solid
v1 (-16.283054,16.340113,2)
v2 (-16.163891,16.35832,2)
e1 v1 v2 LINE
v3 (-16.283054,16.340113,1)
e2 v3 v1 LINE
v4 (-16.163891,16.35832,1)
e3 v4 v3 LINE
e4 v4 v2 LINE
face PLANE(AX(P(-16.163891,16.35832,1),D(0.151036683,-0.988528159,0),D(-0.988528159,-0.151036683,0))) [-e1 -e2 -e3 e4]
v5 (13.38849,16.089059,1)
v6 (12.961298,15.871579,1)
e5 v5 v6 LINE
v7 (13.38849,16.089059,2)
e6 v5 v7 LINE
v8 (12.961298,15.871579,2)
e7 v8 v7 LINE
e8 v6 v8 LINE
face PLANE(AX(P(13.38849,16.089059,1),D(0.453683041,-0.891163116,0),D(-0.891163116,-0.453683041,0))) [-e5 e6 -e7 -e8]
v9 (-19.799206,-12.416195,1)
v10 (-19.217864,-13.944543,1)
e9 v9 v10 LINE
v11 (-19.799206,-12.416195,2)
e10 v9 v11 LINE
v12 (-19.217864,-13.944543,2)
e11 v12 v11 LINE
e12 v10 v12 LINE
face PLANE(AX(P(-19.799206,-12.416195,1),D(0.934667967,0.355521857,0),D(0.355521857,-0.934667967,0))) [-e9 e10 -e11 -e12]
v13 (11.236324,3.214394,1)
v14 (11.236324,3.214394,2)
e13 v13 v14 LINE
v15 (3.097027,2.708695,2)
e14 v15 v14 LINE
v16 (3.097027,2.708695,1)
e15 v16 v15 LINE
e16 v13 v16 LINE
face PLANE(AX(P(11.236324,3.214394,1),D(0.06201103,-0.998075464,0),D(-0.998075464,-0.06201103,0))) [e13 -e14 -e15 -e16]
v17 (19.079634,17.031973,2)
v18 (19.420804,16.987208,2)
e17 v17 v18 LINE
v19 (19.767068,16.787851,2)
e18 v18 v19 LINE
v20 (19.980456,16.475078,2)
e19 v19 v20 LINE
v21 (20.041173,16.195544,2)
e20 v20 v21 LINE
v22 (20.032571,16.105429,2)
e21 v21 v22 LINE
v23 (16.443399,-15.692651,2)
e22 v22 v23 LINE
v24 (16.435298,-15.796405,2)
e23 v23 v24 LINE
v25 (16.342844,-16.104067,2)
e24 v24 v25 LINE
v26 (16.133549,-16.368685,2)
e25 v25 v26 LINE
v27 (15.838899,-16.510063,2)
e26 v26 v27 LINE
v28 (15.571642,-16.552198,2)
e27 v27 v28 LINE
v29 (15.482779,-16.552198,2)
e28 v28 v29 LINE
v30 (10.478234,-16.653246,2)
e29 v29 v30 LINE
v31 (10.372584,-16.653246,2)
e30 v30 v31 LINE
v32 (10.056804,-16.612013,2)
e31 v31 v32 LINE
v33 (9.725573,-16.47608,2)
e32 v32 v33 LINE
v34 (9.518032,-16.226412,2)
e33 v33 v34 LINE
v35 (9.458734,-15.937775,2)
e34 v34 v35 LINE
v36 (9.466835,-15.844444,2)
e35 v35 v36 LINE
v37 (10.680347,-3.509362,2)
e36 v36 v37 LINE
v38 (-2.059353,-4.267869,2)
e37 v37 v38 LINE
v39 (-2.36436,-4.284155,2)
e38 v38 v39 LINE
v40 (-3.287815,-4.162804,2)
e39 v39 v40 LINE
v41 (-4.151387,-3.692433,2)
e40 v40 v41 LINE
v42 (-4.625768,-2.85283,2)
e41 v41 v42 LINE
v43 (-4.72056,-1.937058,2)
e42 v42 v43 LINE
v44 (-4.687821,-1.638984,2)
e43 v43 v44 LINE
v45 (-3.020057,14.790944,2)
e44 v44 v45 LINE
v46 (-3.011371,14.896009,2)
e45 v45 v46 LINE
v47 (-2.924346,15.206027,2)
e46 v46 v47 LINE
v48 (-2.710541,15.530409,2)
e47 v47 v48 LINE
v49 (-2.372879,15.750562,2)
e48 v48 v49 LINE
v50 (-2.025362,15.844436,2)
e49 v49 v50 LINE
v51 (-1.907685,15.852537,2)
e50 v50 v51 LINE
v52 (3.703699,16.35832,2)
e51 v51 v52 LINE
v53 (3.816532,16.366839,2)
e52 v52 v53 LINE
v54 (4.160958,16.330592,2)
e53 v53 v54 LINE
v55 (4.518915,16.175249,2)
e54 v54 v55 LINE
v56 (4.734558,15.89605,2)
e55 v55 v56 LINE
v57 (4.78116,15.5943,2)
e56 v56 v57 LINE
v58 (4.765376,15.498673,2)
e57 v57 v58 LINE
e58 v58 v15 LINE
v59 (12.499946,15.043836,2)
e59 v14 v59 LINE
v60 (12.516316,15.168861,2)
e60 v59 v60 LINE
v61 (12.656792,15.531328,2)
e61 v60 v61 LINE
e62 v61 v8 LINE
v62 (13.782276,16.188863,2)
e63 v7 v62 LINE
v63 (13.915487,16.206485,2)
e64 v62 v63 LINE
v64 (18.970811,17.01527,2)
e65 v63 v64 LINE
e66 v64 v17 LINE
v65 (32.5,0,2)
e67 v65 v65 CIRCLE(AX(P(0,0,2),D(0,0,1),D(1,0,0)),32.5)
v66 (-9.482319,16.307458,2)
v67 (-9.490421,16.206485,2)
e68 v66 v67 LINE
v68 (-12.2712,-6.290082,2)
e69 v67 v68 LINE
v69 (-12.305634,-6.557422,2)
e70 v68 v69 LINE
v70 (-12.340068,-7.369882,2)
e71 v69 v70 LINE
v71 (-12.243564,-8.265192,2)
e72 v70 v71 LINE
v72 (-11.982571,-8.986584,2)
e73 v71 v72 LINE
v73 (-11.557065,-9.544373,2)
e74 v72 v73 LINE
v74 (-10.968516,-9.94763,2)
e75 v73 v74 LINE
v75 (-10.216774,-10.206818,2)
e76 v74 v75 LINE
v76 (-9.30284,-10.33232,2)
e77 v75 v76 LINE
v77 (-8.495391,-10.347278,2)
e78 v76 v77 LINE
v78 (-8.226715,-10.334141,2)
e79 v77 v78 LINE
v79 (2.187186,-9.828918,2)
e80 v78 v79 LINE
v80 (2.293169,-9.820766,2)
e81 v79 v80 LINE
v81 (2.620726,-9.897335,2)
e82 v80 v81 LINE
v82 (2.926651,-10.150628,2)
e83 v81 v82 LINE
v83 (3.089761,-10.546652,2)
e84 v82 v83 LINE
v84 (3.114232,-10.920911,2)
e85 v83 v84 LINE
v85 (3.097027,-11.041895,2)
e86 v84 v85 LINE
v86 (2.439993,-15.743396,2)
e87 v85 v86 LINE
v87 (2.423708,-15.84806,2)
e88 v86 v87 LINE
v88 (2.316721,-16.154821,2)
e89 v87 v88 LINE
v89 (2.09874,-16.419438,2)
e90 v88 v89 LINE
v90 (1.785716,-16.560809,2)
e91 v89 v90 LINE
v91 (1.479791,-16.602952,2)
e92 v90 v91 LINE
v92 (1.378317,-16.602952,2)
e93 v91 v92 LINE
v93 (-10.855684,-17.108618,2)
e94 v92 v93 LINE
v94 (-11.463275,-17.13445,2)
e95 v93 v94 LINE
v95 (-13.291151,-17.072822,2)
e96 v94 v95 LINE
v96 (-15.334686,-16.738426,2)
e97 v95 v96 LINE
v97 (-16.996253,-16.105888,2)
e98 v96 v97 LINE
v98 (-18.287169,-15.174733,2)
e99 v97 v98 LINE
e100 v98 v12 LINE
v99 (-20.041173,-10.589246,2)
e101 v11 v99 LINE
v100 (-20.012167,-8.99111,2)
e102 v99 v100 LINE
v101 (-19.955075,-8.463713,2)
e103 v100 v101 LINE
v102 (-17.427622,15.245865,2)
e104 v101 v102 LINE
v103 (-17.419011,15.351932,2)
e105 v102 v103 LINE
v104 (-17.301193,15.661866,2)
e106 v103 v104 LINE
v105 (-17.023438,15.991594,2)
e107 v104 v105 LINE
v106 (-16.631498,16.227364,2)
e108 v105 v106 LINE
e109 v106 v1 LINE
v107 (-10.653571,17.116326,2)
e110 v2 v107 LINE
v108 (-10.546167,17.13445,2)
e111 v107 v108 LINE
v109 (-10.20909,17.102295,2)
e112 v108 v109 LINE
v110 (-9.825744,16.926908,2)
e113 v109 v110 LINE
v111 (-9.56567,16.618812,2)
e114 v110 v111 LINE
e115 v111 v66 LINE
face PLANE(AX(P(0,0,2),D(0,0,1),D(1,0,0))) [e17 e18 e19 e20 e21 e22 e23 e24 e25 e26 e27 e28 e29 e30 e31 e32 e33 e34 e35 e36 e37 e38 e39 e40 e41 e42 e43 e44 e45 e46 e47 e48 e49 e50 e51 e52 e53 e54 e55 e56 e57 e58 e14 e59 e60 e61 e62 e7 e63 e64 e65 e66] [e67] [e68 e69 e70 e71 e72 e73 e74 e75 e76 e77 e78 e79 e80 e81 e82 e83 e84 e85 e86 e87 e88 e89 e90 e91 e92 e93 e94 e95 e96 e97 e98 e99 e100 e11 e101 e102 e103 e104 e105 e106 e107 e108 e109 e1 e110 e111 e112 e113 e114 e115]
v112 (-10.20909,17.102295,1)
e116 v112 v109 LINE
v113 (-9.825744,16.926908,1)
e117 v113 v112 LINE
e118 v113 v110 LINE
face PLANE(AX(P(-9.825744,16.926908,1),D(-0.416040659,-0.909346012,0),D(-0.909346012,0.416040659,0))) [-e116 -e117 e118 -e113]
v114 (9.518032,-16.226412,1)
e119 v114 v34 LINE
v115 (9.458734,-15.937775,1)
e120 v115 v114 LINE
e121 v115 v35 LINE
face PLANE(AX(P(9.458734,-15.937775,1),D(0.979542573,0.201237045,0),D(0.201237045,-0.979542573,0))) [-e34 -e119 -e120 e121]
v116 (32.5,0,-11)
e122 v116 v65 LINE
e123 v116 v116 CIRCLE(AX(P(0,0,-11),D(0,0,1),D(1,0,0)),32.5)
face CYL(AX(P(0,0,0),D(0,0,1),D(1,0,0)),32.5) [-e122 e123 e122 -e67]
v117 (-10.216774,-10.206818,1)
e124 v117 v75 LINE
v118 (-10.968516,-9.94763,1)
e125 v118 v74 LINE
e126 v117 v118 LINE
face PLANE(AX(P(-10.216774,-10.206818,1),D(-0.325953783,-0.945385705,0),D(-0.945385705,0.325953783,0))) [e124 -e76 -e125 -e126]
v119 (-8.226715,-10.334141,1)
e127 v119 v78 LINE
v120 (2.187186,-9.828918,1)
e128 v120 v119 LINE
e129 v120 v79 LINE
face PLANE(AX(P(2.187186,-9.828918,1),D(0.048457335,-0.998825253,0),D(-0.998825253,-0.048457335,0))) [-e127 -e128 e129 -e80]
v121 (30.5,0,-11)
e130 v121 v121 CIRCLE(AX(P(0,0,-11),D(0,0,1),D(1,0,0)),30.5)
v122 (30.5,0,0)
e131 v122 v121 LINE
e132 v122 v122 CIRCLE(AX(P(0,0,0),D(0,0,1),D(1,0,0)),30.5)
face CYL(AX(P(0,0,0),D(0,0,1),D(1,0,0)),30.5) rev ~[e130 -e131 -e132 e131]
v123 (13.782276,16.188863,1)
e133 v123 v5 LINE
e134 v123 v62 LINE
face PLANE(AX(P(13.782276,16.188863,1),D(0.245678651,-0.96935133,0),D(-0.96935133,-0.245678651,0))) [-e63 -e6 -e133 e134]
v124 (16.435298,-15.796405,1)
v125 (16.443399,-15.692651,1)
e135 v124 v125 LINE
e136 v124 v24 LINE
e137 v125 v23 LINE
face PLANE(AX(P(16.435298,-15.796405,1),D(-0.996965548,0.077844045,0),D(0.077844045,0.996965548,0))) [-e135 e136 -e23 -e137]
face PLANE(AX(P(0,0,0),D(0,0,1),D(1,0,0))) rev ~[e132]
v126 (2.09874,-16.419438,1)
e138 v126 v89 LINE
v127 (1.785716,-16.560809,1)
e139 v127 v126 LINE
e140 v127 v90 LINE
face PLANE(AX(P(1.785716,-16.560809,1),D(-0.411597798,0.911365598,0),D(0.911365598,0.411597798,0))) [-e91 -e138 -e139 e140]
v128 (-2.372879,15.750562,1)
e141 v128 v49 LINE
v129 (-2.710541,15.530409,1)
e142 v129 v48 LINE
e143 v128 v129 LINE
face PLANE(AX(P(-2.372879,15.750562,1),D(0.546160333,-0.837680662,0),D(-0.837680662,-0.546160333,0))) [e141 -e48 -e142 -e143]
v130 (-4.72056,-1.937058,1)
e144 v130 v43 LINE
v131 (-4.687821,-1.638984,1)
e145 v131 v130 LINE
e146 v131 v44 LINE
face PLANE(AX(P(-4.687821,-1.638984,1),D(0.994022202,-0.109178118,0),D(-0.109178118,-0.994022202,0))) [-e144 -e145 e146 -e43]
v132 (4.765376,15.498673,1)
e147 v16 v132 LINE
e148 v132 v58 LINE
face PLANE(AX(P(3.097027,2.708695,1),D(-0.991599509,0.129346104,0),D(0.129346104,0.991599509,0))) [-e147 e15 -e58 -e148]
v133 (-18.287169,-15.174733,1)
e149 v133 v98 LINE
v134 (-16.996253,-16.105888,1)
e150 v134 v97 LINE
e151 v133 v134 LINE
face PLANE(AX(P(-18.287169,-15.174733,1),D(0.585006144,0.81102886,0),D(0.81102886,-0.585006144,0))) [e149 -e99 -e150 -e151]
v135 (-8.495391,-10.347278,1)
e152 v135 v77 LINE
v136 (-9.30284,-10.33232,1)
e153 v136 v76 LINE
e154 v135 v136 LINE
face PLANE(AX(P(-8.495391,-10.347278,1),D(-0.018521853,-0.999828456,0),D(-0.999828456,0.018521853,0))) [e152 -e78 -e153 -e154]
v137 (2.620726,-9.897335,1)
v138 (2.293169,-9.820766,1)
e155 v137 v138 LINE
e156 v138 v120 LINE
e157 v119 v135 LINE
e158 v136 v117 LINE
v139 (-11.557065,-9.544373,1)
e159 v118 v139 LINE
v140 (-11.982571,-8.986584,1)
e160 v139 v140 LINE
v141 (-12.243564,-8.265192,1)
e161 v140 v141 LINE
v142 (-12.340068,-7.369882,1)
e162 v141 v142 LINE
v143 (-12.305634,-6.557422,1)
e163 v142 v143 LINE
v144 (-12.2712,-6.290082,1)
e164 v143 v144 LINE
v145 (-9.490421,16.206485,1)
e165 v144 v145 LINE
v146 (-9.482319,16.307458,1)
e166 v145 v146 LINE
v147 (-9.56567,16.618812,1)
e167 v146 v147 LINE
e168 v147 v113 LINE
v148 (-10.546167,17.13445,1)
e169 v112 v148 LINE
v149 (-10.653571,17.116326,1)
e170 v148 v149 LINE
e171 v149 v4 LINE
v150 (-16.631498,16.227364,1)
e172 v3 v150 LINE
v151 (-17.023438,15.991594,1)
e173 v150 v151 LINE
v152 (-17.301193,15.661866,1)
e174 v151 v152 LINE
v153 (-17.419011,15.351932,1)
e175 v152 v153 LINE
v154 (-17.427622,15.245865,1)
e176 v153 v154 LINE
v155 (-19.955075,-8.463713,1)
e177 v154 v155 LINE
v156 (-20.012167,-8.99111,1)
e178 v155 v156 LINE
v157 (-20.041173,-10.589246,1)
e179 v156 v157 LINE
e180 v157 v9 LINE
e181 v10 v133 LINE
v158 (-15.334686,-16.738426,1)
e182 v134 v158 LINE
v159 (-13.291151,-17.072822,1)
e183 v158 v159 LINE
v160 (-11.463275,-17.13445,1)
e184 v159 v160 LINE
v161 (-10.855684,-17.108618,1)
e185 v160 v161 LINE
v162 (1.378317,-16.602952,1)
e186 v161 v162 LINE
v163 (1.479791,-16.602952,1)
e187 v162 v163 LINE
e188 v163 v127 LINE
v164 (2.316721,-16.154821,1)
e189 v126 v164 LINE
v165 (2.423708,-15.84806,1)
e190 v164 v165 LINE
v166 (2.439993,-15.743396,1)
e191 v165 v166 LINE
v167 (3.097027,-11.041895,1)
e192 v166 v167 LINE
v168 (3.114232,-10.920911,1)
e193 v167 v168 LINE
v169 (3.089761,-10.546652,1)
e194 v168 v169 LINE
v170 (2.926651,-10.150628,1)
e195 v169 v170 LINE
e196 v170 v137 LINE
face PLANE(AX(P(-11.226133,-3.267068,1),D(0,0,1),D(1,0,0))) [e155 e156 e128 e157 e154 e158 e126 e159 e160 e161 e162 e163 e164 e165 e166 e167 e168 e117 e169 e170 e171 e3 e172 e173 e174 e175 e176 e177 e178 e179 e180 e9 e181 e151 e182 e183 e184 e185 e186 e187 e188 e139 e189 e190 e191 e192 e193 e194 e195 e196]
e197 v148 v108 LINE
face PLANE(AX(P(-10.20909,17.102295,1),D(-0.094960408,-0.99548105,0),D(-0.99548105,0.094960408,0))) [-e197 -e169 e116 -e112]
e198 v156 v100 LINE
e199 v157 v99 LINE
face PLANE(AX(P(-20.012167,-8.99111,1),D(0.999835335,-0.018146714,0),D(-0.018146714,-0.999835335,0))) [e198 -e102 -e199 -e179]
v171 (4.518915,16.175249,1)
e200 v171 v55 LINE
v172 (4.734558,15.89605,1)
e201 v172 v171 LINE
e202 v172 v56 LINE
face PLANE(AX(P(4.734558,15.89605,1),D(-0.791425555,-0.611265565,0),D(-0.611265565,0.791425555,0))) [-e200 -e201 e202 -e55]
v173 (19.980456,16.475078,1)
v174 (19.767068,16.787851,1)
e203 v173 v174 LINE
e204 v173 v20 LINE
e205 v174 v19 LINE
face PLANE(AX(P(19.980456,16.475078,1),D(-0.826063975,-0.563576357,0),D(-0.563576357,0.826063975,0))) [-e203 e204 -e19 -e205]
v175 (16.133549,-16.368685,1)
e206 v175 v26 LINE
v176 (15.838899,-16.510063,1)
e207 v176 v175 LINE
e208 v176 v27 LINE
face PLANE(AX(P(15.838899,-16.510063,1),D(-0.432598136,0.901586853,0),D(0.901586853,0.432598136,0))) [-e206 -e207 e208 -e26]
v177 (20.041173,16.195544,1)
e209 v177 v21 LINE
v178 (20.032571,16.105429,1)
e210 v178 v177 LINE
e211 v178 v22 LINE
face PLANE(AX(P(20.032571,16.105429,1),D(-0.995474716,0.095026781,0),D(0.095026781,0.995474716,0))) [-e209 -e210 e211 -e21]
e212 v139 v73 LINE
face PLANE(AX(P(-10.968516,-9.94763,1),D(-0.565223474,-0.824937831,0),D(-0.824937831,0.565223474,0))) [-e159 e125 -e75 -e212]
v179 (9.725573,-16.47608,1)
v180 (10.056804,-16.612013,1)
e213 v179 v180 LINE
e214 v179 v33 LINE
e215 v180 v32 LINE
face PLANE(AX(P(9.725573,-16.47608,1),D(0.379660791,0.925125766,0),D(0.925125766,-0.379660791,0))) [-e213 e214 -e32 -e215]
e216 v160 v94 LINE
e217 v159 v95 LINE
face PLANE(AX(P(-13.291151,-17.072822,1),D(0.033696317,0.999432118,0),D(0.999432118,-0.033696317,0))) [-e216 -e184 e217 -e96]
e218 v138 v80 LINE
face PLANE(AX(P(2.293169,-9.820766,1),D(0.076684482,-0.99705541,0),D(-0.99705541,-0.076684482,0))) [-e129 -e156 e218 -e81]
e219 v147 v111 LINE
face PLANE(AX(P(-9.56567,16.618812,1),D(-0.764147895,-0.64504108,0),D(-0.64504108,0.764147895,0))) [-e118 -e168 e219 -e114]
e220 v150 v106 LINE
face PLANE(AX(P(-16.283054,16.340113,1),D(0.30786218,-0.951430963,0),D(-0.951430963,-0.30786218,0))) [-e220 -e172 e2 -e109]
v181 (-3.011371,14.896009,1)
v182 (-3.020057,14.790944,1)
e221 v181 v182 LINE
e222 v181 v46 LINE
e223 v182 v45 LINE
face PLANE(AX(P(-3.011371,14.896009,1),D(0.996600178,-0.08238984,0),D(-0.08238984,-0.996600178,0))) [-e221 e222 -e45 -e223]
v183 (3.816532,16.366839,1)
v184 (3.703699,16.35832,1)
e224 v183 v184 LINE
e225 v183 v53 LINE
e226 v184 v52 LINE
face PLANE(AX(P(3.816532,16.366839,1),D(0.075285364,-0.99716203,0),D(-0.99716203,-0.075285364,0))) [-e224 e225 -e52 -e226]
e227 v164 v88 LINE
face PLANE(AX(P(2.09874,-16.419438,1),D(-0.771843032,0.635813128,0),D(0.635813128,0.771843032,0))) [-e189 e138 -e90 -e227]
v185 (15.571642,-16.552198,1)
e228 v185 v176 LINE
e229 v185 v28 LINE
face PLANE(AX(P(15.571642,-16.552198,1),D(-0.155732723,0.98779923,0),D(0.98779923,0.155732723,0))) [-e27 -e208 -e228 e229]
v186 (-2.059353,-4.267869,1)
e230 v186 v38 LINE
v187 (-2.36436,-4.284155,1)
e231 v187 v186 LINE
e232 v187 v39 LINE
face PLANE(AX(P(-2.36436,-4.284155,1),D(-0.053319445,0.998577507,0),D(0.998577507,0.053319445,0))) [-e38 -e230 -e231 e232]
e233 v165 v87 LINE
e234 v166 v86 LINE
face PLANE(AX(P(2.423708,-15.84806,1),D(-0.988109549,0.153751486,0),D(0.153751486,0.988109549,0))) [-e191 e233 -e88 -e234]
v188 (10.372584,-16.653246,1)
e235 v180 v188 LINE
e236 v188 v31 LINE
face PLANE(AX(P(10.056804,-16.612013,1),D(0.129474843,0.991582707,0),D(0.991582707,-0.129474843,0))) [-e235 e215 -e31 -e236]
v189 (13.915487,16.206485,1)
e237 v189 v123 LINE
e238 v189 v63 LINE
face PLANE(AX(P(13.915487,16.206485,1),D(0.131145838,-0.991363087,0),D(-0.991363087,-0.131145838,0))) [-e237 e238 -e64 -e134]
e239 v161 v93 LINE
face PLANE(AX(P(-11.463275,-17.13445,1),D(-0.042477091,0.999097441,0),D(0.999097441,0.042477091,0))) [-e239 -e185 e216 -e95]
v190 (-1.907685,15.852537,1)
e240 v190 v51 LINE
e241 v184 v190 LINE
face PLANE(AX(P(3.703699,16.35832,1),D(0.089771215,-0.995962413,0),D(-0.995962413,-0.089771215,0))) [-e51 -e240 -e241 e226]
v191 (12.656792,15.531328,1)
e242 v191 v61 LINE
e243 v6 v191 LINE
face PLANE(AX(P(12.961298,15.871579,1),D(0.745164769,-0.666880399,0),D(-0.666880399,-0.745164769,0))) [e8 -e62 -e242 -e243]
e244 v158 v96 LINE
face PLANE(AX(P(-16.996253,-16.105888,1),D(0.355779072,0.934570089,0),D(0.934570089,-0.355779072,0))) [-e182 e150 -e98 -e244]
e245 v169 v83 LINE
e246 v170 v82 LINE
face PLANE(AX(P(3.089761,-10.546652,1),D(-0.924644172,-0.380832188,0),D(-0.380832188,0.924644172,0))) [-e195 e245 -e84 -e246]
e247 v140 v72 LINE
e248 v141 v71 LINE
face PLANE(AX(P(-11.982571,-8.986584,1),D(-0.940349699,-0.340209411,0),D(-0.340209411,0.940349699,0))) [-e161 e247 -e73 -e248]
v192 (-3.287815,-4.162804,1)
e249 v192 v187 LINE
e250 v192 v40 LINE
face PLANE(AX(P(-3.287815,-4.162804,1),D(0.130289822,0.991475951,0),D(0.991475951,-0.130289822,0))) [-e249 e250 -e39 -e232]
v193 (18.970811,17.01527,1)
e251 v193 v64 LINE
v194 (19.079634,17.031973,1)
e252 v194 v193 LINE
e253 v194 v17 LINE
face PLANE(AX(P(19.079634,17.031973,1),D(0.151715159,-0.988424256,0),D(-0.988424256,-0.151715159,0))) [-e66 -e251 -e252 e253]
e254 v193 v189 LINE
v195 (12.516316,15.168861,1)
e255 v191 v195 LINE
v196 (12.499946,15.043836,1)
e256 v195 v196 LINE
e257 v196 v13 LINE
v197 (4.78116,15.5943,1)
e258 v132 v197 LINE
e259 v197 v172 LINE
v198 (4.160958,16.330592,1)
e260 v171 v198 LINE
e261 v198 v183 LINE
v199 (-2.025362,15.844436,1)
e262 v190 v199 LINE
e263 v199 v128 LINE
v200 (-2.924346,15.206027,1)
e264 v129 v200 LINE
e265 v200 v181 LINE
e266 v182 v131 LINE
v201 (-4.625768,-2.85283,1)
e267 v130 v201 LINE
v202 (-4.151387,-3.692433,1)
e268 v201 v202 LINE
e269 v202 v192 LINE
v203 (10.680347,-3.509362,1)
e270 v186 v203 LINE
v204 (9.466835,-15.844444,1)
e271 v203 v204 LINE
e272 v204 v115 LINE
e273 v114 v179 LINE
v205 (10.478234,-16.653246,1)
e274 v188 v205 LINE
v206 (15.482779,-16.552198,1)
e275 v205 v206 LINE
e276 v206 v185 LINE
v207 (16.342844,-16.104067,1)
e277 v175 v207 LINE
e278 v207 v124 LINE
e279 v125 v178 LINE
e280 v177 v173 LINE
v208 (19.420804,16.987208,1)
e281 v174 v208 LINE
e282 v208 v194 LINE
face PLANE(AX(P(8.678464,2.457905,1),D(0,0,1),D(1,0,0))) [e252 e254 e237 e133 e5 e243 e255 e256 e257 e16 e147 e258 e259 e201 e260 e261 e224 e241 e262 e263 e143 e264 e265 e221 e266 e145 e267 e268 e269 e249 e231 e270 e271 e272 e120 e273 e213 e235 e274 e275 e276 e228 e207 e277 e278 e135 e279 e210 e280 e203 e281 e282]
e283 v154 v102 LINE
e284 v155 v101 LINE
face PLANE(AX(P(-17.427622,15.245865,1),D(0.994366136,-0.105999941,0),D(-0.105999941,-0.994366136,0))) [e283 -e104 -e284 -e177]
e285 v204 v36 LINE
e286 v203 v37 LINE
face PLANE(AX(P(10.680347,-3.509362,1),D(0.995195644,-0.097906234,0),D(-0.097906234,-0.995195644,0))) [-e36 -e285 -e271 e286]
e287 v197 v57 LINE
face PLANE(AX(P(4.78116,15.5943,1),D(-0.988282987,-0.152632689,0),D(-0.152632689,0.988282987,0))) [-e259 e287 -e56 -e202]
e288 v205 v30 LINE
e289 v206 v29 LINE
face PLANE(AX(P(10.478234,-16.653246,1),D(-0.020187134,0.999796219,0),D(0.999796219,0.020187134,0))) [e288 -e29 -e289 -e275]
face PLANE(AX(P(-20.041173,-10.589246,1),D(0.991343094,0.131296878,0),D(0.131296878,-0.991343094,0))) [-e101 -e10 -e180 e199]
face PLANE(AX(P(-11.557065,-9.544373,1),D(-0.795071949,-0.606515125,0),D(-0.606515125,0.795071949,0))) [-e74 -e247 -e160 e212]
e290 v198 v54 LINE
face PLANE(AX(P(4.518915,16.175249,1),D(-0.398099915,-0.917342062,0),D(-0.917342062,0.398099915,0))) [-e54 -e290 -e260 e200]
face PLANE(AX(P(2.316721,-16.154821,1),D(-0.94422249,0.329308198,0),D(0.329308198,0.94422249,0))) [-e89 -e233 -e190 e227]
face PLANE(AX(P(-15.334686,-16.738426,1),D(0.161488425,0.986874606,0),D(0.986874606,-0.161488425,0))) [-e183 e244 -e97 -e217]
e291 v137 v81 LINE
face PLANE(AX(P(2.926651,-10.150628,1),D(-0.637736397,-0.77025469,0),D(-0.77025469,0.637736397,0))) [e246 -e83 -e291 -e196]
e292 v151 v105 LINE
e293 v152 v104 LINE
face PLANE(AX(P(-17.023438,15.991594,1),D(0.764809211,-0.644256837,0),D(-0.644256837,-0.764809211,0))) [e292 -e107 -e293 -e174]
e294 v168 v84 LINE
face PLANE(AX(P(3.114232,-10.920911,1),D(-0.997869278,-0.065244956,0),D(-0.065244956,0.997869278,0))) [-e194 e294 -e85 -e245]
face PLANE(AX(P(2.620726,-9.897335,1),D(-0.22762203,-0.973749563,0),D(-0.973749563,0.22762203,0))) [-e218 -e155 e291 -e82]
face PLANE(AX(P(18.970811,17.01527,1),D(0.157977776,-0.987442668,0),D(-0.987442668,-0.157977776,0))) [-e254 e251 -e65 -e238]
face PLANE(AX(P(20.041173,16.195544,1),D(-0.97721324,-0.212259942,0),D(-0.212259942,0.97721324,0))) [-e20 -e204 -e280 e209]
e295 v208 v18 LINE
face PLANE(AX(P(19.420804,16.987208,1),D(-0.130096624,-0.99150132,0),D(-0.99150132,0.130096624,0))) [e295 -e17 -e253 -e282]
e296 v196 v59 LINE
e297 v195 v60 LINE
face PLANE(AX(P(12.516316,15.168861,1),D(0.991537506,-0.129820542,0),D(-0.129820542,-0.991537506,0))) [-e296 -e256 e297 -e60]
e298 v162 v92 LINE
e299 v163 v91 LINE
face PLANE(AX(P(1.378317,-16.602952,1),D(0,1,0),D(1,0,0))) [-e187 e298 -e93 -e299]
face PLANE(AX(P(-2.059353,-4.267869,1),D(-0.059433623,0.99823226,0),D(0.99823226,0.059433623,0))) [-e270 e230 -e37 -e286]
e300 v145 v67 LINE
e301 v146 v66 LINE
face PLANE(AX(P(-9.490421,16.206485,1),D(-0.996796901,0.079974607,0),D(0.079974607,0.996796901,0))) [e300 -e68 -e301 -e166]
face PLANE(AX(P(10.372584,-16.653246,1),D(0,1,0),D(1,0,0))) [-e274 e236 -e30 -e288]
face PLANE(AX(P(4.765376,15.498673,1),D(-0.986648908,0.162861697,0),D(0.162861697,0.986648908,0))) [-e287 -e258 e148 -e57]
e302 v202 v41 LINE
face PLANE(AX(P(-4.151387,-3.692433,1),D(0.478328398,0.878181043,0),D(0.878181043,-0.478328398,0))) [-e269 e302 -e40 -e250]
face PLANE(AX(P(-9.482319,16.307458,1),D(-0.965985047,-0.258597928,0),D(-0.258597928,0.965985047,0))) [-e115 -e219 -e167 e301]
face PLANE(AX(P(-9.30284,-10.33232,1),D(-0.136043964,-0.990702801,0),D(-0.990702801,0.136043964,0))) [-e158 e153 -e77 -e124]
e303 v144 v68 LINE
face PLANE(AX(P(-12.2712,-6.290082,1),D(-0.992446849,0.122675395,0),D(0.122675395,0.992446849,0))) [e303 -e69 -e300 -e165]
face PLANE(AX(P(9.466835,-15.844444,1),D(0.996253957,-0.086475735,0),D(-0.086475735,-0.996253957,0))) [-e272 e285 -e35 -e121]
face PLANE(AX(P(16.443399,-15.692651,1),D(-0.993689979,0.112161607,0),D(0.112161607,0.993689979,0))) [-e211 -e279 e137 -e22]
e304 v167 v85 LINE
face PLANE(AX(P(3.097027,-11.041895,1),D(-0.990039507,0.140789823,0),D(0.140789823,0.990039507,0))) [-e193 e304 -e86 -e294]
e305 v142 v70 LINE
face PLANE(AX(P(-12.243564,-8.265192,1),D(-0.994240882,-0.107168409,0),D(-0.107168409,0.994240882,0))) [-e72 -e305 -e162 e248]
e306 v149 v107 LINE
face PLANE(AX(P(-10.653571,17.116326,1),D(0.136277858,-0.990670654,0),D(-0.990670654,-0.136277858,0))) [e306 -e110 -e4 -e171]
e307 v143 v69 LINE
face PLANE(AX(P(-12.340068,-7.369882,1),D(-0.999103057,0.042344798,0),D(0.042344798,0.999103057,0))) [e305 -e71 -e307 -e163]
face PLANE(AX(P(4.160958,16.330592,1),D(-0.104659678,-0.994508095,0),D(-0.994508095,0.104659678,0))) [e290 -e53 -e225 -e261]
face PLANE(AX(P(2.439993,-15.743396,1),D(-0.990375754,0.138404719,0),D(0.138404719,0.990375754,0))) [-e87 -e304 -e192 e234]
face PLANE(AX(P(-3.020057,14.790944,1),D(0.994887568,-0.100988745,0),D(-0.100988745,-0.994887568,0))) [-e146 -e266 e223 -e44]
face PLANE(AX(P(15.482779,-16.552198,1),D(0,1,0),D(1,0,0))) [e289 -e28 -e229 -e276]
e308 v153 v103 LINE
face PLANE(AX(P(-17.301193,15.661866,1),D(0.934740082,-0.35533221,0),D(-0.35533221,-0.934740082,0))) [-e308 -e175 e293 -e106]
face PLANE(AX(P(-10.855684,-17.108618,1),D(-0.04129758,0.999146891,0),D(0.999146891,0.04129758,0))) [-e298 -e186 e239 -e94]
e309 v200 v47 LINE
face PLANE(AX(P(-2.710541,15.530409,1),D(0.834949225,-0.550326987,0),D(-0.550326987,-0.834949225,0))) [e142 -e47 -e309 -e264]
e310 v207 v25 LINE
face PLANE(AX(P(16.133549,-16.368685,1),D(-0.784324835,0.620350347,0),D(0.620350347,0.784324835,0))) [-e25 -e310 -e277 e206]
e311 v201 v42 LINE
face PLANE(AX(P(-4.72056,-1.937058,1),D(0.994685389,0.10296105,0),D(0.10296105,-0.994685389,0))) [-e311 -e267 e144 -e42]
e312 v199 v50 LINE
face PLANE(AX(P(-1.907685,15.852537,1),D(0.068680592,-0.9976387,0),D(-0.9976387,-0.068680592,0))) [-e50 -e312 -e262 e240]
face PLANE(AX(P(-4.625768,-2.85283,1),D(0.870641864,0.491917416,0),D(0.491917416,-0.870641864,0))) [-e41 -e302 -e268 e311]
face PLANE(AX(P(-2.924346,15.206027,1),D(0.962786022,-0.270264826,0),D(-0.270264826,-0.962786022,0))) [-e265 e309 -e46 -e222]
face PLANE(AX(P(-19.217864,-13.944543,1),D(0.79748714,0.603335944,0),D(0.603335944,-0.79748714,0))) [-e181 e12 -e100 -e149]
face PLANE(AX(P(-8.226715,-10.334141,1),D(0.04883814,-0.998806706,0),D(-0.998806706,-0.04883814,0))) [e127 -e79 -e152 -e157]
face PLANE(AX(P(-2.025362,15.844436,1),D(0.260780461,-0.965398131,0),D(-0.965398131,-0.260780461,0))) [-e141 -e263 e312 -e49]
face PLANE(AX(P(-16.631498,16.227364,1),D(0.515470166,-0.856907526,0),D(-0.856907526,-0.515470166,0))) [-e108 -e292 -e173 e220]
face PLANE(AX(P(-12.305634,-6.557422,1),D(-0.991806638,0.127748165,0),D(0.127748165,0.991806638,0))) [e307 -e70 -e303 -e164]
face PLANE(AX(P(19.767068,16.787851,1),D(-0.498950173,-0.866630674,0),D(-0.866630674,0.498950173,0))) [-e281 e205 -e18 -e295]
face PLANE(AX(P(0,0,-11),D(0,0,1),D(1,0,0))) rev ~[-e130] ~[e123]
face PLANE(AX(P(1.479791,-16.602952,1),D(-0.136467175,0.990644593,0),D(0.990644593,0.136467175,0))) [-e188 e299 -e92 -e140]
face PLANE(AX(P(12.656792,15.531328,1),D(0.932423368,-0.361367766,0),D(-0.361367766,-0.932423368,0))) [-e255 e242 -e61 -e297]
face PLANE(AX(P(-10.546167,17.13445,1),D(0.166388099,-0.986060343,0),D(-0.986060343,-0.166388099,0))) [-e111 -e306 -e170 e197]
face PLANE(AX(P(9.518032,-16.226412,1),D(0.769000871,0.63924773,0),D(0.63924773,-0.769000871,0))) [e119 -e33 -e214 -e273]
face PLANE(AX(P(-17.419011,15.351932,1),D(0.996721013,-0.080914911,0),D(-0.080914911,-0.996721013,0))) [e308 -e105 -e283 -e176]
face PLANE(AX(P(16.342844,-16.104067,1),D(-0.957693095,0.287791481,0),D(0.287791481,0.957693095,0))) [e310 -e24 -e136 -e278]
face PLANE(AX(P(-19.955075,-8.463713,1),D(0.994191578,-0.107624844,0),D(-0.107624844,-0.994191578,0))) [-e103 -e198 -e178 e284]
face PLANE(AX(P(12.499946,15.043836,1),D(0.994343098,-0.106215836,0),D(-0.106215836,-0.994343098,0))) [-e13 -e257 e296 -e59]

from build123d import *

# Parameters (mm, degrees)
F0_R     = 32.5
F1_DEPTH = 2
F2_R     = 32.5
F2_R_2   = 30.5
F3_DEPTH = 11
F5_START = 1
F5_DEPTH = 2


with BuildPart() as f1:
    # F0 (on Top) → F1 (new body)
    with BuildSketch(Plane.XY):
        Circle(F0_R)
    extrude(amount=F1_DEPTH)

    # F2 (on Top) → F3 (join)
    with BuildSketch(Plane.XY):
        Circle(F2_R)
        Circle(F2_R_2, mode=Mode.SUBTRACT)
    extrude(amount=-F3_DEPTH)

    # F4 (on Top) → F5 (cut)
    with BuildSketch(Plane.XY.offset(F5_START)):
        Polygon((2.4237075291, -15.8480604819), (2.4399934727, -15.7433961512), (3.0970268987, -11.0418947956), (3.1142315365, -10.9209111143), (3.0897608623, -10.5466517793), (2.9266508736, -10.1506277423), (2.6207256875, -9.8973353851), (2.2931694276, -9.820766395), (2.1871855179, -9.8289177185), (-8.2267149419, -10.3341410951), (-8.495391252, -10.347278423), (-9.3028399824, -10.3323204102), (-10.2167737285, -10.2068184235), (-10.9685161801, -9.9476297195), (-11.5570651254, -9.5443730532), (-11.9825708962, -8.9865836618), (-12.2435635816, -8.2651915276), (-12.340068237, -7.3698822195), (-12.305633906, -6.5574224295), (-12.2711995751, -6.290082402), (-9.4904206453, 16.2064848687), (-9.4823194323, 16.3074577188), (-9.5656700563, 16.6188115528), (-9.8257440475, 16.9269081981), (-10.2090901038, 17.1022952827), (-10.5461673769, 17.1344495816), (-10.6535710868, 17.1163262495), (-16.1638908625, 16.3583199734), (-16.2830538588, 16.3401131236), (-16.6314978853, 16.2273642835), (-17.0234379088, 15.9915939313), (-17.3011925884, 15.6618662122), (-17.4190109504, 15.3519321784), (-17.4276216211, 15.2458647511), (-19.9550747867, -8.4637130038), (-20.0121674586, -8.991110319), (-20.0411731417, -10.5892457856), (-19.799205779, -12.4161945835), (-19.2178644077, -13.944542694), (-18.2871686674, -15.1747327606), (-16.9962529107, -16.105887848), (-15.3346857818, -16.7384255445), (-13.2911506379, -17.0728219007), (-11.463274794, -17.1344495816), (-10.8556838224, -17.1086175695), (1.3783169873, -16.6029515493), (1.4797909433, -16.6029515493), (1.7857161295, -16.5608085384), (2.0987403167, -16.4194381965), (2.3167214075, -16.1548208447), align=None)
        Polygon((-3.0113711872, 14.8960092761), (-3.0200570238, 14.7909440607), (-4.687821163, -1.6389839538), (-4.7205600855, -1.93705848), (-4.6257675421, -2.8528296145), (-4.1513872371, -3.6924326438), (-3.2878146396, -4.1628041012), (-2.3643598804, -4.2841552602), (-2.0593533885, -4.2678693166), (10.6803468484, -3.5093619345), (9.4668352583, -15.8444441673), (9.4587340453, -15.9377751516), (9.5180315834, -16.2264121822), (9.7255729669, -16.476079873), (10.0568040038, -16.6120132154), (10.3725842737, -16.6532458838), (10.4782341128, -16.6532458838), (15.4827792953, -16.5521978678), (15.5716420848, -16.5521978678), (15.8388985947, -16.5100632086), (16.1335488968, -16.3686845149), (16.3428441511, -16.1040671631), (16.4352982, -15.7964048096), (16.4433994129, -15.6926508214), (20.0325708227, 16.1054285009), (20.0411731417, 16.1955440553), (19.9804558033, 16.4750776611), (19.7670681837, 16.7878512953), (19.4208039681, 16.9872079482), (19.0796343298, 17.0319734136), (18.9708108197, 17.0152698817), (13.9154869003, 16.2064848687), (13.7822762336, 16.1888626426), (13.3884904699, 16.0890590397), (12.9612976424, 15.8715790548), (12.6567922565, 15.5313281107), (12.5163155535, 15.1688614692), (12.4999460922, 15.0438355331), (11.2363239065, 3.2143942653), (3.0970268987, 2.7086948381), (4.7653756615, 15.4986727059), (4.7811604991, 15.5943004258), (4.7345576452, 15.896049729), (4.5189150488, 16.1752492641), (4.1609583609, 16.3305921105), (3.8165315338, 16.3668387746), (3.703699176, 16.3583199734), (-1.9076853192, 15.8525370285), (-2.0253617012, 15.8444358155), (-2.3728786817, 15.7505619664), (-2.7105405783, 15.5304094164), (-2.9243457862, 15.2060268276), align=None)
    extrude(amount=F5_DEPTH, mode=Mode.SUBTRACT)


solid = f1.part
